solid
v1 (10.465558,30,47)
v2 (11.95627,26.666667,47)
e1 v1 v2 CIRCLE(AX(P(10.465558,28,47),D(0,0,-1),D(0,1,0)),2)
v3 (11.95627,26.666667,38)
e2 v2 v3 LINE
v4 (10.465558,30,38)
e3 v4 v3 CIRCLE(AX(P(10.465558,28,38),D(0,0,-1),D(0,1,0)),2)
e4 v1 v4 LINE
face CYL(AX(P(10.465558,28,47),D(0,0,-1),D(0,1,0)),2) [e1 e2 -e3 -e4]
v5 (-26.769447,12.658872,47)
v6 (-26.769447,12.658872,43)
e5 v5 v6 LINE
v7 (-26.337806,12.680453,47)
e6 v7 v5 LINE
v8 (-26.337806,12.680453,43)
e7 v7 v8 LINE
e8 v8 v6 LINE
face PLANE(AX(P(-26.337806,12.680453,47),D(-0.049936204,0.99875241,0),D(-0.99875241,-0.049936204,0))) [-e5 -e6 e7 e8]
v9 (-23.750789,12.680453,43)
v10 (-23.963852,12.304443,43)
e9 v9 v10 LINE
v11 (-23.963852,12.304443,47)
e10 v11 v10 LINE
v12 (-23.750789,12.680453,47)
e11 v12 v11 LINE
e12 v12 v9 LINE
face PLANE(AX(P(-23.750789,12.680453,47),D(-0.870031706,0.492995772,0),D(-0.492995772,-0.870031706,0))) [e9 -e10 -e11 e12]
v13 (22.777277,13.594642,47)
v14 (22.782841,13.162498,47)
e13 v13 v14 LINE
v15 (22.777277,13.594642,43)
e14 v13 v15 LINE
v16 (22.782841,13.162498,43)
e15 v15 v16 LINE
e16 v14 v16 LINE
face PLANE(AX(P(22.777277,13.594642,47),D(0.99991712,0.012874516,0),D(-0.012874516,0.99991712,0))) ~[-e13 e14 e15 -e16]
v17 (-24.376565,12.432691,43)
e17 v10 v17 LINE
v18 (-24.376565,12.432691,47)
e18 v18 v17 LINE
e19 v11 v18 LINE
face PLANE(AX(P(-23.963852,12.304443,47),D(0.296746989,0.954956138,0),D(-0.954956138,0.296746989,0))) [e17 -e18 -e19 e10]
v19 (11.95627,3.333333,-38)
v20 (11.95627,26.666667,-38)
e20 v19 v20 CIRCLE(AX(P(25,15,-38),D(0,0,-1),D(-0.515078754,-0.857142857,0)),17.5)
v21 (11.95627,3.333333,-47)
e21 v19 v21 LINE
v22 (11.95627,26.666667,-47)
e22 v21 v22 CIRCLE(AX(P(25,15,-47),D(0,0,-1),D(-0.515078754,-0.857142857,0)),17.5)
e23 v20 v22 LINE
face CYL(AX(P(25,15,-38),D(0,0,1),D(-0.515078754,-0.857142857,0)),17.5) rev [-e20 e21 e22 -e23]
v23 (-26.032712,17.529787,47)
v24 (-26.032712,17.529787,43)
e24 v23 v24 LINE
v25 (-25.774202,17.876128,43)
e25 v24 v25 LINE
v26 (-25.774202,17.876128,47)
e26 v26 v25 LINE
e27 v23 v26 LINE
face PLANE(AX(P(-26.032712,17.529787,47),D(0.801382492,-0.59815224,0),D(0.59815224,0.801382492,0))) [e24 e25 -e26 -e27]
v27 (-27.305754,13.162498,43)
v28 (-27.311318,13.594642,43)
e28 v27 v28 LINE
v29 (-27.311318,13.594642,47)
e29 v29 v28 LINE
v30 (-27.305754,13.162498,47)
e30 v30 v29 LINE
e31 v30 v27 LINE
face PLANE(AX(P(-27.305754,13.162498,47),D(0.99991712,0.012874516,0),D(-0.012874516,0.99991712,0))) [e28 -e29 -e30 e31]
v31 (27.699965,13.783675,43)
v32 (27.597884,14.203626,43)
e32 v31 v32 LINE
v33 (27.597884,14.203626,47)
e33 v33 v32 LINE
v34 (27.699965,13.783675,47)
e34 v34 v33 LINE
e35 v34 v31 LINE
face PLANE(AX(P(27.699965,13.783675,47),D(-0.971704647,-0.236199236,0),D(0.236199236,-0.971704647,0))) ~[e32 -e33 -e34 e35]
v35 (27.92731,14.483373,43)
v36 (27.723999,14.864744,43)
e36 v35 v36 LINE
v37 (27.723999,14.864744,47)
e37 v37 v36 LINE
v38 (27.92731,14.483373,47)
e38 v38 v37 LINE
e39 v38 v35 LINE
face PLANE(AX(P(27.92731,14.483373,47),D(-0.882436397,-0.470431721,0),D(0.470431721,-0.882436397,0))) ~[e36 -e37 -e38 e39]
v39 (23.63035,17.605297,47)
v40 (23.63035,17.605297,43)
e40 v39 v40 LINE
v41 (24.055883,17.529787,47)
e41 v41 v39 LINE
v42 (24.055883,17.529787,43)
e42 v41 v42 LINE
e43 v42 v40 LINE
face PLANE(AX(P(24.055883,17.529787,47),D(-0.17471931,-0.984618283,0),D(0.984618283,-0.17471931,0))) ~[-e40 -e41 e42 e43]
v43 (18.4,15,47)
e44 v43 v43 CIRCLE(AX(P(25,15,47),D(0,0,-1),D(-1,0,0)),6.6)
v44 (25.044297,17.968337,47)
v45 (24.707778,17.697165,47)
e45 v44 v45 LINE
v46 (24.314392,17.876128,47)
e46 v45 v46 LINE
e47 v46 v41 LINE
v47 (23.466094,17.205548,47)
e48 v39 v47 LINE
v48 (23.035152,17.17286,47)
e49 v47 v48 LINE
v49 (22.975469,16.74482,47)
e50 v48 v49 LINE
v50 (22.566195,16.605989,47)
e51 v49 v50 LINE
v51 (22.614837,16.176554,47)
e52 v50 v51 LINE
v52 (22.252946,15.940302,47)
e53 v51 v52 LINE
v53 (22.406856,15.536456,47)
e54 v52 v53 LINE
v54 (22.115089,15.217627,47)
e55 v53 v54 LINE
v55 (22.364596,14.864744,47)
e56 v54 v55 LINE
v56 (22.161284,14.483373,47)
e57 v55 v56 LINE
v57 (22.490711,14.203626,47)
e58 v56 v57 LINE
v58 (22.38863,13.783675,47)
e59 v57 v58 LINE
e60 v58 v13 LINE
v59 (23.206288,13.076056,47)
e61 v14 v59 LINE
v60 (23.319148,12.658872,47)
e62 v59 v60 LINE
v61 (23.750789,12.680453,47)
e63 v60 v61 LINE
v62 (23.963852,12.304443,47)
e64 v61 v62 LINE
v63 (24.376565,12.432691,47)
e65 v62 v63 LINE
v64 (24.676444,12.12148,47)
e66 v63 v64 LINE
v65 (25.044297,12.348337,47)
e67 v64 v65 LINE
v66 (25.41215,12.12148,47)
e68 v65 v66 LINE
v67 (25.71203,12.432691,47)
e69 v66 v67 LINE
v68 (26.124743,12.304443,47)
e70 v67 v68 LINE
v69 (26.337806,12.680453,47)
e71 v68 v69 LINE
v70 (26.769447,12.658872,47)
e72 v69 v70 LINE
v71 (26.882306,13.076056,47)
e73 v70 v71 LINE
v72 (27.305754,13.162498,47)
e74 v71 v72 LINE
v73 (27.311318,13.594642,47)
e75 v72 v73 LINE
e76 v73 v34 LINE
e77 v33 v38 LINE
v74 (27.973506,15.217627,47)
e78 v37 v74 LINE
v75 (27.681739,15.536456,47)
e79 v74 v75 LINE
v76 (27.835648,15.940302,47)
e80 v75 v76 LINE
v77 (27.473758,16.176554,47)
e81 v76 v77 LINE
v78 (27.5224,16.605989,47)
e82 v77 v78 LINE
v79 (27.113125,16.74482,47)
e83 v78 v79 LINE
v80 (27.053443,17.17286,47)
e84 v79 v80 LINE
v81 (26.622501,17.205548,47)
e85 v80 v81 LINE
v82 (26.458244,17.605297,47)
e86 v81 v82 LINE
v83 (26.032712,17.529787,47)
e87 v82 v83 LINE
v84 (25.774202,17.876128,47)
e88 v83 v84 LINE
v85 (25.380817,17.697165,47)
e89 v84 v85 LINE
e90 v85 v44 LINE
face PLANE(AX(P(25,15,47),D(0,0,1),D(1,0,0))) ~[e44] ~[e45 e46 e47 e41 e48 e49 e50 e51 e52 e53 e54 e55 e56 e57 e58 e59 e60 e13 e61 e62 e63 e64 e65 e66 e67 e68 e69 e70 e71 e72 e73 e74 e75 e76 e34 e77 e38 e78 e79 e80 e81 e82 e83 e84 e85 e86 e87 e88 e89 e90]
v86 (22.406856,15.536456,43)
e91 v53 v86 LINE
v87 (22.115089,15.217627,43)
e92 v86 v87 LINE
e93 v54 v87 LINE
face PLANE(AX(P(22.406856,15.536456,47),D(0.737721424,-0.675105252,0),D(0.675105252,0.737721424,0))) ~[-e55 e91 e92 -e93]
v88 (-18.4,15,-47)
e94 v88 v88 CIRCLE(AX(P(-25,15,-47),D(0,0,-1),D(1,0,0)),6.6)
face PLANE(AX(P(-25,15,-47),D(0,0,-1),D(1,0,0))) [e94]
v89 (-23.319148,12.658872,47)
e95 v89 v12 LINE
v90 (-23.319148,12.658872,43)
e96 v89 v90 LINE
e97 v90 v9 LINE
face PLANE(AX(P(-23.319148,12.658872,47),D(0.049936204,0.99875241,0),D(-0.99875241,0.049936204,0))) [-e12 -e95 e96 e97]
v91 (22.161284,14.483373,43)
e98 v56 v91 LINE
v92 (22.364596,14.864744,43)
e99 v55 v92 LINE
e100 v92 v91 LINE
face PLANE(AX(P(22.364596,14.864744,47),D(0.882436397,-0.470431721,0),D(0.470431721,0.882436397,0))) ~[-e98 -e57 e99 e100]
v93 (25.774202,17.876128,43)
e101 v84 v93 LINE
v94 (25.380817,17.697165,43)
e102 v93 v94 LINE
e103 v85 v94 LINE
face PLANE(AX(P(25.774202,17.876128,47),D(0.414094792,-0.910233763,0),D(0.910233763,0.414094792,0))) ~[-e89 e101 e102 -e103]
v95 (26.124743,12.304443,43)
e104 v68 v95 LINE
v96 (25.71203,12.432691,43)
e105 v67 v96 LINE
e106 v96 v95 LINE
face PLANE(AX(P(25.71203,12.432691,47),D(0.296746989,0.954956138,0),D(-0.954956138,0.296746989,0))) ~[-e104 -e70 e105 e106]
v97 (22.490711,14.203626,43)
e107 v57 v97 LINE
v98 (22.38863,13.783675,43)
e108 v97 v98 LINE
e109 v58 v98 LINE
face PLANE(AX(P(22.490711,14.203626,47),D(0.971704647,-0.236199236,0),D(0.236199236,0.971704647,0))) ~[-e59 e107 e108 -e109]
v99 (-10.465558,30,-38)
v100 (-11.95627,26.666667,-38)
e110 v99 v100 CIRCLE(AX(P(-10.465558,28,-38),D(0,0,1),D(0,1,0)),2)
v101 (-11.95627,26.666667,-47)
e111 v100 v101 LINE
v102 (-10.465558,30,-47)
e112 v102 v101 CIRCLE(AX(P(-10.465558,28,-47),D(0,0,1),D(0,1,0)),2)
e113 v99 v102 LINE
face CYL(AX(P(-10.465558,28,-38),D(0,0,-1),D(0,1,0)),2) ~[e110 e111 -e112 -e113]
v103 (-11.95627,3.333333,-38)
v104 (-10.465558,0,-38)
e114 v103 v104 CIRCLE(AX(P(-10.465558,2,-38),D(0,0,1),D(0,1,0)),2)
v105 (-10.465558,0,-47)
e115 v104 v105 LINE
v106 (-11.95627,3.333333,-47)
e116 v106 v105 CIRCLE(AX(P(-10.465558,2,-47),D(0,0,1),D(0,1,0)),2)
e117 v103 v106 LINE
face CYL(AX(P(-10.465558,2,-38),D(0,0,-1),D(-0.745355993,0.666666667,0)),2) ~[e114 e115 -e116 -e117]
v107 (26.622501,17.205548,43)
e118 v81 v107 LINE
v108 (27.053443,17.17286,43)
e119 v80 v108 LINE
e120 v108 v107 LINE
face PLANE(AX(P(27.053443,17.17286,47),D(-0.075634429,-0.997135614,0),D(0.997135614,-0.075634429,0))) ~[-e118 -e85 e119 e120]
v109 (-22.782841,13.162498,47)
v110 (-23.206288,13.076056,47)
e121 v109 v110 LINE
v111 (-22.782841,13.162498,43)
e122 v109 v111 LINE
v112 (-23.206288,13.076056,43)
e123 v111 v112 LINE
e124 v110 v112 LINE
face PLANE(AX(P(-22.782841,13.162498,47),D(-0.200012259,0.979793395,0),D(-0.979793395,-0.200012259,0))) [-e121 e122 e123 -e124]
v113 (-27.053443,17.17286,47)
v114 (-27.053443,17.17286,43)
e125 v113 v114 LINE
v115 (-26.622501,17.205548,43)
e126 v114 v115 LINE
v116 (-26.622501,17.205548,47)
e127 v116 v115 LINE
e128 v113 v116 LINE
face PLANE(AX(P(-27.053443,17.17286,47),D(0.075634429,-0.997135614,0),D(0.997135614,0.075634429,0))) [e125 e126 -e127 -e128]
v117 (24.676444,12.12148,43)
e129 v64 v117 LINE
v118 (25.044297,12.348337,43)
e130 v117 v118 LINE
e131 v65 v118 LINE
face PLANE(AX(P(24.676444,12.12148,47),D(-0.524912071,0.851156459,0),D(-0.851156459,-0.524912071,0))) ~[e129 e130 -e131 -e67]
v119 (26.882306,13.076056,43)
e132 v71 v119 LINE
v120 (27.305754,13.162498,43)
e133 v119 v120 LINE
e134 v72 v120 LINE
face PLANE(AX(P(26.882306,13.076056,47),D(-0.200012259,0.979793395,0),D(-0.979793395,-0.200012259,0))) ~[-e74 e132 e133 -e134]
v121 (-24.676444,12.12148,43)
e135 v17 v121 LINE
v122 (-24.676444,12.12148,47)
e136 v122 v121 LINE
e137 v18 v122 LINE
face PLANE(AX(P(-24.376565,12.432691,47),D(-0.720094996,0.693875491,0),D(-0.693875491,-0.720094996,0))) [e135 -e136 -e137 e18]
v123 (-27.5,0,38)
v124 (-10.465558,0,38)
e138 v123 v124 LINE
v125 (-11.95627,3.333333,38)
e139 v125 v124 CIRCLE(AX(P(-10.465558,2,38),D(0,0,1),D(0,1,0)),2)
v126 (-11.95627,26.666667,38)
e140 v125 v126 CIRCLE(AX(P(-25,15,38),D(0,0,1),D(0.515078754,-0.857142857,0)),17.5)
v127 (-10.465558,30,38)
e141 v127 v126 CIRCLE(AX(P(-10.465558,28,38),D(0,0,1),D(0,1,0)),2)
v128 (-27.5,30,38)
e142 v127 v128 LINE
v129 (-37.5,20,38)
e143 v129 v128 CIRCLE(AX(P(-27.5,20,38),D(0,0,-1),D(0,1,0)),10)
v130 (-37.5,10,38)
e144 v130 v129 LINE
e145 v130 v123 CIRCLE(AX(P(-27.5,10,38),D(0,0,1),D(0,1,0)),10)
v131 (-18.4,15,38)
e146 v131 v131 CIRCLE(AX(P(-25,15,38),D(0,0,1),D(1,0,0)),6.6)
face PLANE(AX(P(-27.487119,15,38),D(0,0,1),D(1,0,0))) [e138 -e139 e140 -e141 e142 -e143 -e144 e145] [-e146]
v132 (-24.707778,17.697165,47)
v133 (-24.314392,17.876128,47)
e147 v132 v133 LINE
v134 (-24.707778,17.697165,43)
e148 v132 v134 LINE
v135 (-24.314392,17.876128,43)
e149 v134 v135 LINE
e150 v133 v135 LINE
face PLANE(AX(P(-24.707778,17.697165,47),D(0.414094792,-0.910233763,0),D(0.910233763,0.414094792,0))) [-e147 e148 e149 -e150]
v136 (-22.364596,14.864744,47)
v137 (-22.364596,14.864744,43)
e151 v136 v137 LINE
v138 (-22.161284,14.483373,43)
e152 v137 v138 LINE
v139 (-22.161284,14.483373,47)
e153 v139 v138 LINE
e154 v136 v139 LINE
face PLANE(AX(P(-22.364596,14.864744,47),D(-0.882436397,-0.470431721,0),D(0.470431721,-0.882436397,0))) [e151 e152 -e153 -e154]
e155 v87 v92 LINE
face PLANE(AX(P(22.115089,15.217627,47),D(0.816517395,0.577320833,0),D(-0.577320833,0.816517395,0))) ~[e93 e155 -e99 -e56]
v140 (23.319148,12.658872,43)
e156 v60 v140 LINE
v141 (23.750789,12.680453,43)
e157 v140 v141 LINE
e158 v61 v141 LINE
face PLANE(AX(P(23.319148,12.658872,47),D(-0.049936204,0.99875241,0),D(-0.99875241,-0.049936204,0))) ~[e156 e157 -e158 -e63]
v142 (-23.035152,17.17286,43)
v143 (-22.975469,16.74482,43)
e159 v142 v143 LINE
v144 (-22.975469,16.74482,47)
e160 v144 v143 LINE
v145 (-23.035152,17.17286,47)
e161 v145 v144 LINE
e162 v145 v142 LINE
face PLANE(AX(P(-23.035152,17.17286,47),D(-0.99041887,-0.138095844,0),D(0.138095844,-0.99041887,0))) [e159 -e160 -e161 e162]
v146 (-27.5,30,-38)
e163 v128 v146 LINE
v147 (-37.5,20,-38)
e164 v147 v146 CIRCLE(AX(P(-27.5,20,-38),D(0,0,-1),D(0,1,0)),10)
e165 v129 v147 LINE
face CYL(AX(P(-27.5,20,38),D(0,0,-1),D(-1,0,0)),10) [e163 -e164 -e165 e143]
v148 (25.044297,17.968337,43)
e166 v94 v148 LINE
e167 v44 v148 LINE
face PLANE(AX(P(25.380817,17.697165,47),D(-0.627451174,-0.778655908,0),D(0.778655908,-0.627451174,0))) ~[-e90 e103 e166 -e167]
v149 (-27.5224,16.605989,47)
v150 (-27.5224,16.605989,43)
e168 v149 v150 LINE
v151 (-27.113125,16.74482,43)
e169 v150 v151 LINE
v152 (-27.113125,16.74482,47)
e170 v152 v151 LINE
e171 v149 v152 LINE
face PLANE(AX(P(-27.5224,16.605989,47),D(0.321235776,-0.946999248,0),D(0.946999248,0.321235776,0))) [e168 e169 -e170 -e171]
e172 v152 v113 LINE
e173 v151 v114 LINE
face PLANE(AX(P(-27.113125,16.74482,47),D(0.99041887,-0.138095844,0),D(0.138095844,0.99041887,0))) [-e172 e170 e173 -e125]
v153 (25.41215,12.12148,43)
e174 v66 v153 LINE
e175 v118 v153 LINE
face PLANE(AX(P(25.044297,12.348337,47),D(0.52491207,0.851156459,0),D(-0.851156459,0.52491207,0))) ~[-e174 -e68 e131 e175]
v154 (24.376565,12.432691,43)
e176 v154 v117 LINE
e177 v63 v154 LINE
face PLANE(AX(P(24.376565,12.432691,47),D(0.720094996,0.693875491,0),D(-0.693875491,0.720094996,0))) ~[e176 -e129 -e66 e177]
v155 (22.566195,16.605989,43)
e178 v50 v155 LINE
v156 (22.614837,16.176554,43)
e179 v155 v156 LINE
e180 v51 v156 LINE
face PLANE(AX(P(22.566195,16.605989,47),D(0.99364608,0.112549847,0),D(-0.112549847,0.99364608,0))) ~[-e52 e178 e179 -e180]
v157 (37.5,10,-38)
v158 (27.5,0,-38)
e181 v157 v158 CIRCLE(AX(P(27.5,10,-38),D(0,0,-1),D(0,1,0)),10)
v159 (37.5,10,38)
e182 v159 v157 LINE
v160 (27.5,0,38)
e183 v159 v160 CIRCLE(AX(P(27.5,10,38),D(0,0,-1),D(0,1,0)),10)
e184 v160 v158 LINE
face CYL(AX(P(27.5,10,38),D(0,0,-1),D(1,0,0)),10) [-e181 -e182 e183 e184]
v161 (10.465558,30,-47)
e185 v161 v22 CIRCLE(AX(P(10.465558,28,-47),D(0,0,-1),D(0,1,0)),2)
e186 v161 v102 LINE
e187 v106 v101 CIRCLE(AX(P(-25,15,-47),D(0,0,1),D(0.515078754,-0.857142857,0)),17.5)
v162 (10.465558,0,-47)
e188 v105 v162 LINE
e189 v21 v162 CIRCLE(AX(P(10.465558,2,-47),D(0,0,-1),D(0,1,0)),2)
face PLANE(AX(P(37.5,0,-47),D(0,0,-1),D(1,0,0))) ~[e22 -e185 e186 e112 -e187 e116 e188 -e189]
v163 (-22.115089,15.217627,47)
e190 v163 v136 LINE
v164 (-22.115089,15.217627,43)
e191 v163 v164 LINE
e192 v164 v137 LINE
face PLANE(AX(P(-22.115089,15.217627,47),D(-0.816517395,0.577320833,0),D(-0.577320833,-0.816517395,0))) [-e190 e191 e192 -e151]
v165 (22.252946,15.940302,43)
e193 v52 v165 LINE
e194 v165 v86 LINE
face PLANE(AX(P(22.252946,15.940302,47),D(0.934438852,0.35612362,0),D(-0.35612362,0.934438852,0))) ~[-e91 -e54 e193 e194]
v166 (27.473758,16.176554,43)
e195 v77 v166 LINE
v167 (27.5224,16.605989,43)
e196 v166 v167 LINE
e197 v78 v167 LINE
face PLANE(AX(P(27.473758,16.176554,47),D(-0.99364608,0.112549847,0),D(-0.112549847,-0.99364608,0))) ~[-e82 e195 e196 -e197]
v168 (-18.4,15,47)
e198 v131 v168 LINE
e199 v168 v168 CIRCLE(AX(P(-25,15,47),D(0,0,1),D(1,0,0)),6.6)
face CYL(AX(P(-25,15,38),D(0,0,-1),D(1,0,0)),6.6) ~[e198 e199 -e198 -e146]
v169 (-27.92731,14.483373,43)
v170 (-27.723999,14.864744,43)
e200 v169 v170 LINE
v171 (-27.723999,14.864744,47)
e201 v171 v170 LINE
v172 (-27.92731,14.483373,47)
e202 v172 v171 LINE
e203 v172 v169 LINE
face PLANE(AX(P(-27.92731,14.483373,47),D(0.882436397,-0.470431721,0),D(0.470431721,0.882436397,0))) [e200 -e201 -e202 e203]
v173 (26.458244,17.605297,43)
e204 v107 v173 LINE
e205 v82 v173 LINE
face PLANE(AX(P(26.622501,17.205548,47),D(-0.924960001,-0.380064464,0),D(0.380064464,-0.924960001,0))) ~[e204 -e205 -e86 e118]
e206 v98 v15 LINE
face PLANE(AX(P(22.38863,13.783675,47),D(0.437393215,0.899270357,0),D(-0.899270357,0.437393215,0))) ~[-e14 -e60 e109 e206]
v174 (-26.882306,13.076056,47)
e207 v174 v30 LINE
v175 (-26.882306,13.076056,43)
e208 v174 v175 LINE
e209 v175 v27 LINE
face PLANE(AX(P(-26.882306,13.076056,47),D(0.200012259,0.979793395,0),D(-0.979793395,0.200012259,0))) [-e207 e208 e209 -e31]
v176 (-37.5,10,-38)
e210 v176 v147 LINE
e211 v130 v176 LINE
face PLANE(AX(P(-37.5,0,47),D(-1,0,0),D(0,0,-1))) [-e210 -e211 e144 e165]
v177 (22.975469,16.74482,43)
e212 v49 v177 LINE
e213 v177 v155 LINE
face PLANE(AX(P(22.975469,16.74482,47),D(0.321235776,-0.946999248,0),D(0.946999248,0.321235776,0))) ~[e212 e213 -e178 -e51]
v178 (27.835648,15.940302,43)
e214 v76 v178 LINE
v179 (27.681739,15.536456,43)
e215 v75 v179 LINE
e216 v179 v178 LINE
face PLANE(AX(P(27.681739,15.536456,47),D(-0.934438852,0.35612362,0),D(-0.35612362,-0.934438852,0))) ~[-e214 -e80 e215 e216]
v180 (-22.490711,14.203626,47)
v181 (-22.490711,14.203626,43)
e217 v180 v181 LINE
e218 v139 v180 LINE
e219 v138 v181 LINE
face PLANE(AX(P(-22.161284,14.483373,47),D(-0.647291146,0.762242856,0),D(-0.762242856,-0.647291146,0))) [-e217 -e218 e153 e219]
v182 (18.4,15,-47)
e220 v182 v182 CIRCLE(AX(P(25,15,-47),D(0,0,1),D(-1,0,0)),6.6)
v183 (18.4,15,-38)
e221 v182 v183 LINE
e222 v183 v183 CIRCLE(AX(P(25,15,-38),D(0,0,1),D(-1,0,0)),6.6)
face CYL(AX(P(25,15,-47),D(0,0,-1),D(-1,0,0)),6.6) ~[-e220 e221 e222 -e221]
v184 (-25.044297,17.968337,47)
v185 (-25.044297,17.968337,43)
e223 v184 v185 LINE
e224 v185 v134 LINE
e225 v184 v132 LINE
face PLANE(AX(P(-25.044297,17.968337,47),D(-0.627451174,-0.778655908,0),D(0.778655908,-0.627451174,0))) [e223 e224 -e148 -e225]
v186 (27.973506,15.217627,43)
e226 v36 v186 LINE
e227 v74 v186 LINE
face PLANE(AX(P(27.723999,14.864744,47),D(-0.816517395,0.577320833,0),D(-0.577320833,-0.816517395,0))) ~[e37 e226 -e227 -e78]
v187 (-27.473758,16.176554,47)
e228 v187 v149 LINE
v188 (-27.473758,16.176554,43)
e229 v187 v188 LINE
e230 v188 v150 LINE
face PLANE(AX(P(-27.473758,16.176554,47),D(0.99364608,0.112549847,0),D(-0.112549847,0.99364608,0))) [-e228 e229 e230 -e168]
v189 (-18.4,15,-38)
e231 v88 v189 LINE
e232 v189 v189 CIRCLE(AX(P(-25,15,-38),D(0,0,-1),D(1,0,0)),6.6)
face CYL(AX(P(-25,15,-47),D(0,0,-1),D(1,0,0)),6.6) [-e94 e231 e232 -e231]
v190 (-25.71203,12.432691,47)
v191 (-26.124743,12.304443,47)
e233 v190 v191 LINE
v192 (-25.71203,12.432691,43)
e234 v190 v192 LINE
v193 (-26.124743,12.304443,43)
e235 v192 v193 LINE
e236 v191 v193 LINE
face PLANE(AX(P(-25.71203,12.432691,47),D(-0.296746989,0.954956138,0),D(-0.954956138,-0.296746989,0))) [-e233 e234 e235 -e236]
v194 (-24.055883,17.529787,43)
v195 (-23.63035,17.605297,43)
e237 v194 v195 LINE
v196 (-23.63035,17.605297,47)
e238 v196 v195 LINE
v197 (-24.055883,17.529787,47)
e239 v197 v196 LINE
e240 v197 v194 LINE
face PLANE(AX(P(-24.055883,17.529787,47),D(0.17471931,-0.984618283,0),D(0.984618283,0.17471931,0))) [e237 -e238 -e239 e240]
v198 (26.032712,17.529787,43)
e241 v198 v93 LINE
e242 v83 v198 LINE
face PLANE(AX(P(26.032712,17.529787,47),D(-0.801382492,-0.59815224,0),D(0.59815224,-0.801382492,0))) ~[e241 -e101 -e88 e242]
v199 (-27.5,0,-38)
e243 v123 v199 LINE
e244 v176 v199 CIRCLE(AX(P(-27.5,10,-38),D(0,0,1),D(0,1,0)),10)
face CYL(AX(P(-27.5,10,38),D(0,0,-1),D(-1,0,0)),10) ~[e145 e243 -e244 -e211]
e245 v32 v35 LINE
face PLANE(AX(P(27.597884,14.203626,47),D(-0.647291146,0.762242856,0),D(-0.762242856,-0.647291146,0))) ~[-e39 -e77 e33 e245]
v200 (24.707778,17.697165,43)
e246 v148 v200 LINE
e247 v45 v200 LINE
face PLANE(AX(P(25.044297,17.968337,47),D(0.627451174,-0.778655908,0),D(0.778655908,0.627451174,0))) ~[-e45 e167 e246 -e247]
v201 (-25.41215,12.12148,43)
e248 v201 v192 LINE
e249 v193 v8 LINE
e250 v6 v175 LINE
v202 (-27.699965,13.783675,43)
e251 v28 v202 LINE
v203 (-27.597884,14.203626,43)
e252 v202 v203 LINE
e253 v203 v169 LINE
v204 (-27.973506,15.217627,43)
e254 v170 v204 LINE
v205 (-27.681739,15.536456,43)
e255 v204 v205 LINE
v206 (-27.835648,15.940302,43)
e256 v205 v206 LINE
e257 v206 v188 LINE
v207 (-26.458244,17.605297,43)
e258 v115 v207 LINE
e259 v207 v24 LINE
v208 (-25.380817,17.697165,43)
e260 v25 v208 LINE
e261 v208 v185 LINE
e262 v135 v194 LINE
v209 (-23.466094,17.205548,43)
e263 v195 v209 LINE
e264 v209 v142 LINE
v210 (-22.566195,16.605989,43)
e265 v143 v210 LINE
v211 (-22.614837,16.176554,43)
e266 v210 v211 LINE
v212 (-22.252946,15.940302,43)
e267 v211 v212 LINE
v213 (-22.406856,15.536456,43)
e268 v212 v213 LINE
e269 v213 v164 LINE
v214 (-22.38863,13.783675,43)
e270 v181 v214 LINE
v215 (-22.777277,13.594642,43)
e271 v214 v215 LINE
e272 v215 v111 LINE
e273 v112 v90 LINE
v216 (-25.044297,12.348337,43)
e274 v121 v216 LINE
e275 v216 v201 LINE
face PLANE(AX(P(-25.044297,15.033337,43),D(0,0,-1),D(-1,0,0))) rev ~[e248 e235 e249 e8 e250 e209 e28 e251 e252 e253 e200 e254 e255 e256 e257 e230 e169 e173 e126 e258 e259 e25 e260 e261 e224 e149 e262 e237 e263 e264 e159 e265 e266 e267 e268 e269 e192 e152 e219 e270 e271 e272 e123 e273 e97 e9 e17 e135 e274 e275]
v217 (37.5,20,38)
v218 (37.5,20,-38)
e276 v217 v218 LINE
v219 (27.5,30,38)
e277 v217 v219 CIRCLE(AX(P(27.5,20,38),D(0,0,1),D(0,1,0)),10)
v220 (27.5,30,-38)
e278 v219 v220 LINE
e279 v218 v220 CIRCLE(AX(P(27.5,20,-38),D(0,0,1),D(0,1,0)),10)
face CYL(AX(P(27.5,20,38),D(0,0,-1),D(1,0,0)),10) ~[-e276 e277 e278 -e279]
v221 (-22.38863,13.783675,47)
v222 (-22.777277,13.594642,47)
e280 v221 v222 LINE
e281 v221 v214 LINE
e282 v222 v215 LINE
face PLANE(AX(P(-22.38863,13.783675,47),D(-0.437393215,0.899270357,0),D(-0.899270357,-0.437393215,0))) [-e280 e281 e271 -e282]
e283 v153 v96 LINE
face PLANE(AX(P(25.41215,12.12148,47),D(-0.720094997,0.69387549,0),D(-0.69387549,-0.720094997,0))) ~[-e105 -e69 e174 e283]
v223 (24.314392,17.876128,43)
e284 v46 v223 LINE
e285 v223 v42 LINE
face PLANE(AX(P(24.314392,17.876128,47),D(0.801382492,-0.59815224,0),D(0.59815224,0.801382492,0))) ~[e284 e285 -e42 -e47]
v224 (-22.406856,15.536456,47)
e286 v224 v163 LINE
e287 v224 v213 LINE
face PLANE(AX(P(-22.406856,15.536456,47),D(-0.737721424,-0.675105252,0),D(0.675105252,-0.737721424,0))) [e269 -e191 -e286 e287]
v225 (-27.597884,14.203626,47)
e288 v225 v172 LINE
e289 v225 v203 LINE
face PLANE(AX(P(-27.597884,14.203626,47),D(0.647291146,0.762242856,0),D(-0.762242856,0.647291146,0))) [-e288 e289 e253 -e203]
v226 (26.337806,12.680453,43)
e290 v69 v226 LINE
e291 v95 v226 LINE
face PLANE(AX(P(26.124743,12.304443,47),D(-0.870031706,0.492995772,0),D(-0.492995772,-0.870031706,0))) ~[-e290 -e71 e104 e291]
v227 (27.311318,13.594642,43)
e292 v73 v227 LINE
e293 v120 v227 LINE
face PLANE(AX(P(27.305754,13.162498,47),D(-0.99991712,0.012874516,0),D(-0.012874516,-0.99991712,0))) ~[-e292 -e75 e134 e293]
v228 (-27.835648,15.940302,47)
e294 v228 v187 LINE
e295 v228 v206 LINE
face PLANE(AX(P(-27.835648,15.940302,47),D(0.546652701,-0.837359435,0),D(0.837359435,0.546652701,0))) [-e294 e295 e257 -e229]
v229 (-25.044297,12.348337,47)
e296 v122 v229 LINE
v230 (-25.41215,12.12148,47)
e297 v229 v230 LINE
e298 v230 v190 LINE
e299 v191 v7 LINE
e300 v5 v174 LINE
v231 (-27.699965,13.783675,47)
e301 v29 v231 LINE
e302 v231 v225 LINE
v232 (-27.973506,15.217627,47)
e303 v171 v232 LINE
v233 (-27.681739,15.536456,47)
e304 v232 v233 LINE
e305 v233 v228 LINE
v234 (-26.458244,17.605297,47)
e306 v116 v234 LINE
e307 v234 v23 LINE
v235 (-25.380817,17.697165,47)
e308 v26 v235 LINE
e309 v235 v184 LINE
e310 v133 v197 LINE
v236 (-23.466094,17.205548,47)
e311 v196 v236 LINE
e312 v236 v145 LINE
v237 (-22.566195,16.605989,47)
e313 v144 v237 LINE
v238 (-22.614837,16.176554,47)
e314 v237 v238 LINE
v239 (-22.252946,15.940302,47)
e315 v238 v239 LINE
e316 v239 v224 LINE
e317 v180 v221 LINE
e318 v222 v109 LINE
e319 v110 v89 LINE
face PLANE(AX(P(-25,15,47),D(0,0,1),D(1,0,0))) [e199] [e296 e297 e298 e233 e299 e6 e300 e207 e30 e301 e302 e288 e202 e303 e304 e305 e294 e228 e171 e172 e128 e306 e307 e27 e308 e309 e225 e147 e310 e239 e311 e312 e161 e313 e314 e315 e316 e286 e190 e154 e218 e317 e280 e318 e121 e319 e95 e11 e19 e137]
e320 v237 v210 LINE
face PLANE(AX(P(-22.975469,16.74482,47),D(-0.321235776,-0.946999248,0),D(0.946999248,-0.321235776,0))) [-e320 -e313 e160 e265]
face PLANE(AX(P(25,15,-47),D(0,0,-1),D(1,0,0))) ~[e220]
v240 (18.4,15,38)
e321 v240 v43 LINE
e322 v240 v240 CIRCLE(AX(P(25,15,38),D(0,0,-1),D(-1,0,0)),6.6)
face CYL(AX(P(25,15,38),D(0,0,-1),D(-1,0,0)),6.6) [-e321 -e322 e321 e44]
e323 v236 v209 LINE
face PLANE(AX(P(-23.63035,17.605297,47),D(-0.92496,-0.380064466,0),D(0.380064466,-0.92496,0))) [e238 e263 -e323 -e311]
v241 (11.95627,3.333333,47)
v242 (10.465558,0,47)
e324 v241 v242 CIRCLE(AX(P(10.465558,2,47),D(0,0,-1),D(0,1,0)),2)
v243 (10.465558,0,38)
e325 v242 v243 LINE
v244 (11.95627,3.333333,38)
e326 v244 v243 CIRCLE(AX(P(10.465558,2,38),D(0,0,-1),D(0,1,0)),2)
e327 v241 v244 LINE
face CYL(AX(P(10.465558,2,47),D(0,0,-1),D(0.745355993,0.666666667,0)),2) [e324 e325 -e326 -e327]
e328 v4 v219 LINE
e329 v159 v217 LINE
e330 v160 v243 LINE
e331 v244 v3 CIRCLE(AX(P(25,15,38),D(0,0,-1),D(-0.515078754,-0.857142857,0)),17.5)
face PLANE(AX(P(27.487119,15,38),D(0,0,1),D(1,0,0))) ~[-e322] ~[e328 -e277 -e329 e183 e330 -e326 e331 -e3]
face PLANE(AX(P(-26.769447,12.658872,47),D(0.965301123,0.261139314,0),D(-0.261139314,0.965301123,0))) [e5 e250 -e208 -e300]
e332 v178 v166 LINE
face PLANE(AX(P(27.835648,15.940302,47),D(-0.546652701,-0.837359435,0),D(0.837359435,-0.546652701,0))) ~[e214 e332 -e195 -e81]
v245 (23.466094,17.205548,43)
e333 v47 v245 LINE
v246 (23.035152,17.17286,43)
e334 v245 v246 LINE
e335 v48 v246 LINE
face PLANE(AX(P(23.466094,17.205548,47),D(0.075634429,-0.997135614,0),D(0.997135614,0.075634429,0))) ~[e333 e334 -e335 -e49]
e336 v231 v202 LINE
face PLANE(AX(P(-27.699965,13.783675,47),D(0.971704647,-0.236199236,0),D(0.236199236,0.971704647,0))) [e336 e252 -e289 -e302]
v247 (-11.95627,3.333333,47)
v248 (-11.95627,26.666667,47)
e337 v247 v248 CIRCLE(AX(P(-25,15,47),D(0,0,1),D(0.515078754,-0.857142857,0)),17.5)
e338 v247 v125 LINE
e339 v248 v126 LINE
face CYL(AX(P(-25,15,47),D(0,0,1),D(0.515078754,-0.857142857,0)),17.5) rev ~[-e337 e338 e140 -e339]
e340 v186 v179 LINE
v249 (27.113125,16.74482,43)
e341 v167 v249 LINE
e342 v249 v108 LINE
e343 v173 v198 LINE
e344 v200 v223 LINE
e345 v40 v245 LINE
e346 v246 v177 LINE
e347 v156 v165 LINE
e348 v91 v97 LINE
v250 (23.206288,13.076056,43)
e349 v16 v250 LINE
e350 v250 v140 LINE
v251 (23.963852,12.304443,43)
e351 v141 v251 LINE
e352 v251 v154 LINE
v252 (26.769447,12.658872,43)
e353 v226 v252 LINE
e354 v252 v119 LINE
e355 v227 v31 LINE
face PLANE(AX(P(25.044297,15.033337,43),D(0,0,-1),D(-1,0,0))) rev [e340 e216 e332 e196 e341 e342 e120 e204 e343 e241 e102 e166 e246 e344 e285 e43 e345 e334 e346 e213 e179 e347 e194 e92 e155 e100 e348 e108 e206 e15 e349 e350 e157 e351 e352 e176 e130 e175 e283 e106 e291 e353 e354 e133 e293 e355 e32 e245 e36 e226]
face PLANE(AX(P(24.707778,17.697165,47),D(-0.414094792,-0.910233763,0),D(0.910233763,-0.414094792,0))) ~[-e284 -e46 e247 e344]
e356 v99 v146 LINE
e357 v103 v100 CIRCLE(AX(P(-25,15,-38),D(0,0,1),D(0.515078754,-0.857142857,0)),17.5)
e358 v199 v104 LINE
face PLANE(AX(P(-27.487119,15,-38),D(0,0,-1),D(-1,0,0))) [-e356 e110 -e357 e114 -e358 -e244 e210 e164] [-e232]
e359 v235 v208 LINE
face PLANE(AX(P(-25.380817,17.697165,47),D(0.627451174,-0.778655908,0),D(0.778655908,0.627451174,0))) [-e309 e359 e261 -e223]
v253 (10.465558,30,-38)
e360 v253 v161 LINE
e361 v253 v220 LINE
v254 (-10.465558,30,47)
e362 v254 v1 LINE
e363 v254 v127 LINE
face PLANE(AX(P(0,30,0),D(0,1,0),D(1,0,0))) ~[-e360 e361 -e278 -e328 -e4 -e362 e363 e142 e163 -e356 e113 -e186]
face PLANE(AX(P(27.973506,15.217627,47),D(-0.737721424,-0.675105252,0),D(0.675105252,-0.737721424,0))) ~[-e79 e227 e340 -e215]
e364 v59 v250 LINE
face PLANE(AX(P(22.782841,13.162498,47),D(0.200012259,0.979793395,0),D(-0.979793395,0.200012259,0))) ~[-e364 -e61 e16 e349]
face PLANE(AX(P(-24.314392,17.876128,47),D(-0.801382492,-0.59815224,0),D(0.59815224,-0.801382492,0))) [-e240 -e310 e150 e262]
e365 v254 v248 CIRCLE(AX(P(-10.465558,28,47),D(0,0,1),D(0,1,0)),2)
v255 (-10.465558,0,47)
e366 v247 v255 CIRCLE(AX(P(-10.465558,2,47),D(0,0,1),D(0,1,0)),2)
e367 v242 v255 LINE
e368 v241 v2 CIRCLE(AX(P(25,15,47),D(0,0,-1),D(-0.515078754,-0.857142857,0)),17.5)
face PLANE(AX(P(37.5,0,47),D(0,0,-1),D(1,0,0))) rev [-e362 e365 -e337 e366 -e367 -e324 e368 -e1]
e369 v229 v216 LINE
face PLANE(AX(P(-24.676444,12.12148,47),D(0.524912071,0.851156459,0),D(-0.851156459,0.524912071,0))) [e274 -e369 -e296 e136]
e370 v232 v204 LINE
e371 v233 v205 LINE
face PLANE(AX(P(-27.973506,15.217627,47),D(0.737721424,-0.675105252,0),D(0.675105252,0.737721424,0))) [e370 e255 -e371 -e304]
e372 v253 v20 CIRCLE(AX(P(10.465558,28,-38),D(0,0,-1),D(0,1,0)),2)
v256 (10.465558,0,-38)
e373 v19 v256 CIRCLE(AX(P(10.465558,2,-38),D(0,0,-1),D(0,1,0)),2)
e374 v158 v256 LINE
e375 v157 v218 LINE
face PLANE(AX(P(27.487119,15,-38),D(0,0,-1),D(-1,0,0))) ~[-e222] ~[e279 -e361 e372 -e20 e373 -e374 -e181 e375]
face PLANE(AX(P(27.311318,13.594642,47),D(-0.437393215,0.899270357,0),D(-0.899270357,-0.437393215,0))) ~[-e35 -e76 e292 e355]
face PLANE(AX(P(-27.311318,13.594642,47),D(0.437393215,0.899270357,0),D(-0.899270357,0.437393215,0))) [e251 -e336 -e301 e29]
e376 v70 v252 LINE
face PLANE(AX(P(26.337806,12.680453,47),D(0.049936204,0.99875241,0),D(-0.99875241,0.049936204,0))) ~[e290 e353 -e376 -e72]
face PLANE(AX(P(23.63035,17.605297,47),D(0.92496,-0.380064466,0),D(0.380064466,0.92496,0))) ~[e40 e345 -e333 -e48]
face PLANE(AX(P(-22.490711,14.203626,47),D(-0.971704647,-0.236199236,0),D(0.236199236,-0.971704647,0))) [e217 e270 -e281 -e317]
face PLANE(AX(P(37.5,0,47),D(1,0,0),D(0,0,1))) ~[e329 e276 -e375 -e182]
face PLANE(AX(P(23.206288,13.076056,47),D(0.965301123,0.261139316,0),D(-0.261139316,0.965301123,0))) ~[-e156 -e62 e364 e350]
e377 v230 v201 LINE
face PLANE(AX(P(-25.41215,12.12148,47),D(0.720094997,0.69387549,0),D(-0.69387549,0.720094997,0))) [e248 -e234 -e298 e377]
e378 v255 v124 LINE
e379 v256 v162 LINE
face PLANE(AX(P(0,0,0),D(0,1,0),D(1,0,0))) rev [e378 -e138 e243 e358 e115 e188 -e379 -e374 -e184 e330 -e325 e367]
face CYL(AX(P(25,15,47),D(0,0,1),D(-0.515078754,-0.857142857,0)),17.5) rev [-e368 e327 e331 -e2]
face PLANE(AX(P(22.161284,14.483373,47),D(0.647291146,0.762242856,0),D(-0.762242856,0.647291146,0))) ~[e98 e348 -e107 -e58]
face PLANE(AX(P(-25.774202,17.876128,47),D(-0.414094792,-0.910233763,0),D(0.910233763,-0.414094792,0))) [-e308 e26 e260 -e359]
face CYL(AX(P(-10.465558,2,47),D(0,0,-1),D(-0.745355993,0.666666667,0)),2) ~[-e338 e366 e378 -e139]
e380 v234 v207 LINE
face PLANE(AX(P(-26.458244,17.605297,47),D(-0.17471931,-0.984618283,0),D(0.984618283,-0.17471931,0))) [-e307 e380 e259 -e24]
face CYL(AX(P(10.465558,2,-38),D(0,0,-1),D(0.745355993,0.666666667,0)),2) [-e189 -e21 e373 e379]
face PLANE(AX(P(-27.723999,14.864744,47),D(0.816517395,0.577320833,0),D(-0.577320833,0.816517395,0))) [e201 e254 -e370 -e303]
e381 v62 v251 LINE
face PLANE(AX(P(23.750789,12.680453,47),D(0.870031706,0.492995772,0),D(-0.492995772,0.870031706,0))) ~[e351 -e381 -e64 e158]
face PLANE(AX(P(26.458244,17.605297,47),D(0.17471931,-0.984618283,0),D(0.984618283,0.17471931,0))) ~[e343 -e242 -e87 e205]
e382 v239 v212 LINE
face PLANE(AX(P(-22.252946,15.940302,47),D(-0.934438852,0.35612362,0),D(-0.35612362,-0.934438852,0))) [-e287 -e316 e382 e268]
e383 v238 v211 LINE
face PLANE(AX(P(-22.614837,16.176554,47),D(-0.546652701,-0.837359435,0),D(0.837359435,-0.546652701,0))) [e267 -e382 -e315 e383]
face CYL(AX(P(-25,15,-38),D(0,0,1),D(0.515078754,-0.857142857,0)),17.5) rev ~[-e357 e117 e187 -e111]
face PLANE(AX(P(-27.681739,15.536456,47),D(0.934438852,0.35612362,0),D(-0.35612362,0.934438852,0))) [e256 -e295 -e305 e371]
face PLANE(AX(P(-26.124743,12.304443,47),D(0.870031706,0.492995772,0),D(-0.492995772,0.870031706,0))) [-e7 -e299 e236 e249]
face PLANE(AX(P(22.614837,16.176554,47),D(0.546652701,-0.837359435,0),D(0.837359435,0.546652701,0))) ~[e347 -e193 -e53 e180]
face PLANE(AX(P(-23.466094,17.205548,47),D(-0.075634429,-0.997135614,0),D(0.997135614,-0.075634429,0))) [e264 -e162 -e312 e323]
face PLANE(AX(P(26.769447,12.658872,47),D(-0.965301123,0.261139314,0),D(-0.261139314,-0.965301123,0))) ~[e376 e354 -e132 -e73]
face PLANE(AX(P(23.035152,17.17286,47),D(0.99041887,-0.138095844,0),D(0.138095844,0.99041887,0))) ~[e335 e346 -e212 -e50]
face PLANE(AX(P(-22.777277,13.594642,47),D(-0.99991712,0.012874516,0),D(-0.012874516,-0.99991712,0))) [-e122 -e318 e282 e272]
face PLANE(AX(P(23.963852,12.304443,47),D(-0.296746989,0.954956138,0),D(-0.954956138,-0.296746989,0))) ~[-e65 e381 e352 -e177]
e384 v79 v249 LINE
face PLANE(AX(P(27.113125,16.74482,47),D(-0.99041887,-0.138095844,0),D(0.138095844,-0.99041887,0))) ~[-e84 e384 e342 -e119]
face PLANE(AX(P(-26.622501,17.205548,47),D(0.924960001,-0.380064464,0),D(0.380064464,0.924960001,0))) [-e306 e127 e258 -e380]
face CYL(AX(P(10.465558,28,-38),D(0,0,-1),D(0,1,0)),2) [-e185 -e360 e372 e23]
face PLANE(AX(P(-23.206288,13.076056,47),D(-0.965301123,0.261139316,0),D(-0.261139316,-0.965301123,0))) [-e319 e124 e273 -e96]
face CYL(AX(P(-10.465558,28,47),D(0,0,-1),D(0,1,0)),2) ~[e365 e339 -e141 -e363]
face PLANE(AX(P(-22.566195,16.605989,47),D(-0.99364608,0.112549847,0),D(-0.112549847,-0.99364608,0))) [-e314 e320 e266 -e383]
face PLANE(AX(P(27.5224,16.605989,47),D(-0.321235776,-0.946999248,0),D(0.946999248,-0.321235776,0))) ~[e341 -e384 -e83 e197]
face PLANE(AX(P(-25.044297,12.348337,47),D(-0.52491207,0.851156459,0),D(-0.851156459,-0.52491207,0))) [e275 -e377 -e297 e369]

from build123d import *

# Parameters (mm, degrees)
SKETCH1_W           = 75
SKETCH1_H           = 94
BOSS_EXTRUDE1_DEPTH = 30
SKETCH2_W           = 20.025762067
SKETCH2_H           = 30
CUT_EXTRUDE5_DEPTH  = 9
SKETCH7_W           = 20.025762067
SKETCH7_H           = 30
CUT_EXTRUDE6_DEPTH  = 9
SKETCH8_R           = 6.6
BOSS_EXTRUDE2_DEPTH = 9
BOSS_EXTRUDE3_START = 9
SKETCH9_R           = 6.6
BOSS_EXTRUDE3_DEPTH = 9
FILLET1_R           = 10
CUT_EXTRUDE7_DEPTH  = 9
CUT_EXTRUDE8_START  = -9
CUT_EXTRUDE8_DEPTH  = 9
FILLET2_R           = 2
CUT_EXTRUDE10_DEPTH = 4
SKETCH14_W          = 37.5
SKETCH14_H          = 30
CUT_EXTRUDE11_DEPTH = 94


with BuildPart() as part:
    # Sketch1 → Boss-Extrude1 (new body)
    with BuildSketch(Plane(origin=(0, 0, 0), x_dir=(1, 0, 0), z_dir=(0, 1, 0))):
        Rectangle(SKETCH1_W, SKETCH1_H)
    extrude(amount=BOSS_EXTRUDE1_DEPTH)

    # Sketch2 → Cut-Extrude5 (cut)
    with BuildSketch(Plane.XY.offset(47)):
        with Locations((-27.487118966, 15)):
            Rectangle(SKETCH2_W, SKETCH2_H)
    extrude(amount=-CUT_EXTRUDE5_DEPTH, mode=Mode.SUBTRACT)

    # Sketch7 → Cut-Extrude6 (cut)
    with BuildSketch(Plane(origin=(0, 0, -47), x_dir=(-1, 0, 0), z_dir=(0, 0, -1))):
        with Locations((27.487118966, 15)):
            Rectangle(SKETCH7_W, SKETCH7_H)
    extrude(amount=-CUT_EXTRUDE6_DEPTH, mode=Mode.SUBTRACT)

    # Sketch8 → Boss-Extrude2 (add)
    with BuildSketch(Plane.XY.offset(38)):
        with Locations((-25, 15)):
            Circle(SKETCH8_R)
    extrude(amount=BOSS_EXTRUDE2_DEPTH)

    # Sketch9 → Boss-Extrude3 (add)
    with BuildSketch(Plane(origin=(0, 0, -38), x_dir=(-1, 0, 0), z_dir=(0, 0, -1)).offset(BOSS_EXTRUDE3_START)):
        with Locations(Location((25, 15, 0), (0, 0, 180))):
            Circle(SKETCH9_R)
    extrude(amount=-BOSS_EXTRUDE3_DEPTH)

    # Fillet1
    fillet1_edges = [part.edges().sort_by_distance(p)[0] for p in [
        (-37.5, 0, 0),
        (-37.5, 30, 0),
    ]]
    fillet(fillet1_edges, radius=FILLET1_R)

    # Sketch10 → Cut-Extrude7 (cut)
    with BuildSketch(Plane.XY.offset(47)):
        with BuildLine():
            Line((-15.986121811, 30), (-17.474237933, 30))
            Line((-17.474237933, 30), (-17.474237933, 0))
            Line((-17.474237933, 0), (-15.986121811, 0))
            ThreePointArc((-15.986121811, 0), (-7.5, 15), (-15.986121811, 30))
        make_face()
    extrude(amount=-CUT_EXTRUDE7_DEPTH, mode=Mode.SUBTRACT)

    # Sketch11 → Cut-Extrude8 (cut)
    with BuildSketch(Plane(origin=(0, 0, -47), x_dir=(-1, 0, 0), z_dir=(0, 0, -1)).offset(CUT_EXTRUDE8_START)):
        with BuildLine():
            Line((15.986121811, 30), (17.474237933, 30))
            Line((17.474237933, 30), (17.474237933, 0))
            Line((17.474237933, 0), (15.986121811, 0))
            ThreePointArc((15.986121811, 0), (7.5, 15), (15.986121811, 30))
        make_face()
    extrude(amount=CUT_EXTRUDE8_DEPTH, mode=Mode.SUBTRACT)

    # Fillet2
    fillet2_edges = [part.edges().sort_by_distance(p)[0] for p in [
        (-15.986121811, 30, 42.5),
        (-15.986121811, 0, 42.5),
        (-15.986121811, 0, -42.5),
        (-15.986121811, 30, -42.5),
    ]]
    fillet(fillet2_edges, radius=FILLET2_R)

    # Sketch13 → Cut-Extrude10 (cut)
    with BuildSketch(Plane.XY.offset(47)):
        Polygon((-26.622500709, 17.20554754), (-26.458244341, 17.605297016), (-26.032711731, 17.529786775), (-25.774202126, 17.876128488), (-25.380817039, 17.697164883), (-25.044297307, 17.96833691), (-24.707777575, 17.697164883), (-24.314392488, 17.876128488), (-24.055882883, 17.529786775), (-23.630350274, 17.605297016), (-23.466093905, 17.20554754), (-23.035151551, 17.172859831), (-22.97546925, 16.744820322), (-22.566194846, 16.605988553), (-22.614836671, 16.176554308), (-22.252946432, 15.940301788), (-22.406856039, 15.53645574), (-22.115088859, 15.217627085), (-22.364595541, 14.864744365), (-22.161284226, 14.483372752), (-22.490710561, 14.20362628), (-22.388629908, 13.783674689), (-22.777276827, 13.594641965), (-22.782840939, 13.1624975), (-23.206288328, 13.076056145), (-23.319147592, 12.658872031), (-23.750788692, 12.680453474), (-23.963851745, 12.304442924), (-24.37656496, 12.432691122), (-24.676444267, 12.121480262), (-25.044297307, 12.34833691), (-25.412150348, 12.121480262), (-25.712029654, 12.432691122), (-26.124742869, 12.304442924), (-26.337805922, 12.680453474), (-26.769447023, 12.658872031), (-26.882306286, 13.076056145), (-27.305753675, 13.1624975), (-27.311317787, 13.594641965), (-27.699964706, 13.783674689), (-27.597884053, 14.20362628), (-27.927310388, 14.483372752), (-27.723999073, 14.864744365), (-27.973505755, 15.217627085), (-27.681738575, 15.53645574), (-27.835648182, 15.940301788), (-27.473757943, 16.176554308), (-27.522399768, 16.605988553), (-27.113125364, 16.744820322), (-27.053443063, 17.172859831), align=None)
    extrude(amount=-CUT_EXTRUDE10_DEPTH, mode=Mode.SUBTRACT)

    # Sketch14 → Cut-Extrude11 (cut)
    with BuildSketch(Plane.XY.offset(47)):
        with Locations((18.75, 15)):
            Rectangle(SKETCH14_W, SKETCH14_H)
    extrude(amount=-CUT_EXTRUDE11_DEPTH, mode=Mode.SUBTRACT)

    # Mirror2: part across plane


with BuildPart() as part_1:
    add(part.part)
    add(part.part.mirror(Plane(origin=(0, 0, -47), x_dir=(0, 0, 1), z_dir=(-1, 0, 0))))


solid = part_1.part
